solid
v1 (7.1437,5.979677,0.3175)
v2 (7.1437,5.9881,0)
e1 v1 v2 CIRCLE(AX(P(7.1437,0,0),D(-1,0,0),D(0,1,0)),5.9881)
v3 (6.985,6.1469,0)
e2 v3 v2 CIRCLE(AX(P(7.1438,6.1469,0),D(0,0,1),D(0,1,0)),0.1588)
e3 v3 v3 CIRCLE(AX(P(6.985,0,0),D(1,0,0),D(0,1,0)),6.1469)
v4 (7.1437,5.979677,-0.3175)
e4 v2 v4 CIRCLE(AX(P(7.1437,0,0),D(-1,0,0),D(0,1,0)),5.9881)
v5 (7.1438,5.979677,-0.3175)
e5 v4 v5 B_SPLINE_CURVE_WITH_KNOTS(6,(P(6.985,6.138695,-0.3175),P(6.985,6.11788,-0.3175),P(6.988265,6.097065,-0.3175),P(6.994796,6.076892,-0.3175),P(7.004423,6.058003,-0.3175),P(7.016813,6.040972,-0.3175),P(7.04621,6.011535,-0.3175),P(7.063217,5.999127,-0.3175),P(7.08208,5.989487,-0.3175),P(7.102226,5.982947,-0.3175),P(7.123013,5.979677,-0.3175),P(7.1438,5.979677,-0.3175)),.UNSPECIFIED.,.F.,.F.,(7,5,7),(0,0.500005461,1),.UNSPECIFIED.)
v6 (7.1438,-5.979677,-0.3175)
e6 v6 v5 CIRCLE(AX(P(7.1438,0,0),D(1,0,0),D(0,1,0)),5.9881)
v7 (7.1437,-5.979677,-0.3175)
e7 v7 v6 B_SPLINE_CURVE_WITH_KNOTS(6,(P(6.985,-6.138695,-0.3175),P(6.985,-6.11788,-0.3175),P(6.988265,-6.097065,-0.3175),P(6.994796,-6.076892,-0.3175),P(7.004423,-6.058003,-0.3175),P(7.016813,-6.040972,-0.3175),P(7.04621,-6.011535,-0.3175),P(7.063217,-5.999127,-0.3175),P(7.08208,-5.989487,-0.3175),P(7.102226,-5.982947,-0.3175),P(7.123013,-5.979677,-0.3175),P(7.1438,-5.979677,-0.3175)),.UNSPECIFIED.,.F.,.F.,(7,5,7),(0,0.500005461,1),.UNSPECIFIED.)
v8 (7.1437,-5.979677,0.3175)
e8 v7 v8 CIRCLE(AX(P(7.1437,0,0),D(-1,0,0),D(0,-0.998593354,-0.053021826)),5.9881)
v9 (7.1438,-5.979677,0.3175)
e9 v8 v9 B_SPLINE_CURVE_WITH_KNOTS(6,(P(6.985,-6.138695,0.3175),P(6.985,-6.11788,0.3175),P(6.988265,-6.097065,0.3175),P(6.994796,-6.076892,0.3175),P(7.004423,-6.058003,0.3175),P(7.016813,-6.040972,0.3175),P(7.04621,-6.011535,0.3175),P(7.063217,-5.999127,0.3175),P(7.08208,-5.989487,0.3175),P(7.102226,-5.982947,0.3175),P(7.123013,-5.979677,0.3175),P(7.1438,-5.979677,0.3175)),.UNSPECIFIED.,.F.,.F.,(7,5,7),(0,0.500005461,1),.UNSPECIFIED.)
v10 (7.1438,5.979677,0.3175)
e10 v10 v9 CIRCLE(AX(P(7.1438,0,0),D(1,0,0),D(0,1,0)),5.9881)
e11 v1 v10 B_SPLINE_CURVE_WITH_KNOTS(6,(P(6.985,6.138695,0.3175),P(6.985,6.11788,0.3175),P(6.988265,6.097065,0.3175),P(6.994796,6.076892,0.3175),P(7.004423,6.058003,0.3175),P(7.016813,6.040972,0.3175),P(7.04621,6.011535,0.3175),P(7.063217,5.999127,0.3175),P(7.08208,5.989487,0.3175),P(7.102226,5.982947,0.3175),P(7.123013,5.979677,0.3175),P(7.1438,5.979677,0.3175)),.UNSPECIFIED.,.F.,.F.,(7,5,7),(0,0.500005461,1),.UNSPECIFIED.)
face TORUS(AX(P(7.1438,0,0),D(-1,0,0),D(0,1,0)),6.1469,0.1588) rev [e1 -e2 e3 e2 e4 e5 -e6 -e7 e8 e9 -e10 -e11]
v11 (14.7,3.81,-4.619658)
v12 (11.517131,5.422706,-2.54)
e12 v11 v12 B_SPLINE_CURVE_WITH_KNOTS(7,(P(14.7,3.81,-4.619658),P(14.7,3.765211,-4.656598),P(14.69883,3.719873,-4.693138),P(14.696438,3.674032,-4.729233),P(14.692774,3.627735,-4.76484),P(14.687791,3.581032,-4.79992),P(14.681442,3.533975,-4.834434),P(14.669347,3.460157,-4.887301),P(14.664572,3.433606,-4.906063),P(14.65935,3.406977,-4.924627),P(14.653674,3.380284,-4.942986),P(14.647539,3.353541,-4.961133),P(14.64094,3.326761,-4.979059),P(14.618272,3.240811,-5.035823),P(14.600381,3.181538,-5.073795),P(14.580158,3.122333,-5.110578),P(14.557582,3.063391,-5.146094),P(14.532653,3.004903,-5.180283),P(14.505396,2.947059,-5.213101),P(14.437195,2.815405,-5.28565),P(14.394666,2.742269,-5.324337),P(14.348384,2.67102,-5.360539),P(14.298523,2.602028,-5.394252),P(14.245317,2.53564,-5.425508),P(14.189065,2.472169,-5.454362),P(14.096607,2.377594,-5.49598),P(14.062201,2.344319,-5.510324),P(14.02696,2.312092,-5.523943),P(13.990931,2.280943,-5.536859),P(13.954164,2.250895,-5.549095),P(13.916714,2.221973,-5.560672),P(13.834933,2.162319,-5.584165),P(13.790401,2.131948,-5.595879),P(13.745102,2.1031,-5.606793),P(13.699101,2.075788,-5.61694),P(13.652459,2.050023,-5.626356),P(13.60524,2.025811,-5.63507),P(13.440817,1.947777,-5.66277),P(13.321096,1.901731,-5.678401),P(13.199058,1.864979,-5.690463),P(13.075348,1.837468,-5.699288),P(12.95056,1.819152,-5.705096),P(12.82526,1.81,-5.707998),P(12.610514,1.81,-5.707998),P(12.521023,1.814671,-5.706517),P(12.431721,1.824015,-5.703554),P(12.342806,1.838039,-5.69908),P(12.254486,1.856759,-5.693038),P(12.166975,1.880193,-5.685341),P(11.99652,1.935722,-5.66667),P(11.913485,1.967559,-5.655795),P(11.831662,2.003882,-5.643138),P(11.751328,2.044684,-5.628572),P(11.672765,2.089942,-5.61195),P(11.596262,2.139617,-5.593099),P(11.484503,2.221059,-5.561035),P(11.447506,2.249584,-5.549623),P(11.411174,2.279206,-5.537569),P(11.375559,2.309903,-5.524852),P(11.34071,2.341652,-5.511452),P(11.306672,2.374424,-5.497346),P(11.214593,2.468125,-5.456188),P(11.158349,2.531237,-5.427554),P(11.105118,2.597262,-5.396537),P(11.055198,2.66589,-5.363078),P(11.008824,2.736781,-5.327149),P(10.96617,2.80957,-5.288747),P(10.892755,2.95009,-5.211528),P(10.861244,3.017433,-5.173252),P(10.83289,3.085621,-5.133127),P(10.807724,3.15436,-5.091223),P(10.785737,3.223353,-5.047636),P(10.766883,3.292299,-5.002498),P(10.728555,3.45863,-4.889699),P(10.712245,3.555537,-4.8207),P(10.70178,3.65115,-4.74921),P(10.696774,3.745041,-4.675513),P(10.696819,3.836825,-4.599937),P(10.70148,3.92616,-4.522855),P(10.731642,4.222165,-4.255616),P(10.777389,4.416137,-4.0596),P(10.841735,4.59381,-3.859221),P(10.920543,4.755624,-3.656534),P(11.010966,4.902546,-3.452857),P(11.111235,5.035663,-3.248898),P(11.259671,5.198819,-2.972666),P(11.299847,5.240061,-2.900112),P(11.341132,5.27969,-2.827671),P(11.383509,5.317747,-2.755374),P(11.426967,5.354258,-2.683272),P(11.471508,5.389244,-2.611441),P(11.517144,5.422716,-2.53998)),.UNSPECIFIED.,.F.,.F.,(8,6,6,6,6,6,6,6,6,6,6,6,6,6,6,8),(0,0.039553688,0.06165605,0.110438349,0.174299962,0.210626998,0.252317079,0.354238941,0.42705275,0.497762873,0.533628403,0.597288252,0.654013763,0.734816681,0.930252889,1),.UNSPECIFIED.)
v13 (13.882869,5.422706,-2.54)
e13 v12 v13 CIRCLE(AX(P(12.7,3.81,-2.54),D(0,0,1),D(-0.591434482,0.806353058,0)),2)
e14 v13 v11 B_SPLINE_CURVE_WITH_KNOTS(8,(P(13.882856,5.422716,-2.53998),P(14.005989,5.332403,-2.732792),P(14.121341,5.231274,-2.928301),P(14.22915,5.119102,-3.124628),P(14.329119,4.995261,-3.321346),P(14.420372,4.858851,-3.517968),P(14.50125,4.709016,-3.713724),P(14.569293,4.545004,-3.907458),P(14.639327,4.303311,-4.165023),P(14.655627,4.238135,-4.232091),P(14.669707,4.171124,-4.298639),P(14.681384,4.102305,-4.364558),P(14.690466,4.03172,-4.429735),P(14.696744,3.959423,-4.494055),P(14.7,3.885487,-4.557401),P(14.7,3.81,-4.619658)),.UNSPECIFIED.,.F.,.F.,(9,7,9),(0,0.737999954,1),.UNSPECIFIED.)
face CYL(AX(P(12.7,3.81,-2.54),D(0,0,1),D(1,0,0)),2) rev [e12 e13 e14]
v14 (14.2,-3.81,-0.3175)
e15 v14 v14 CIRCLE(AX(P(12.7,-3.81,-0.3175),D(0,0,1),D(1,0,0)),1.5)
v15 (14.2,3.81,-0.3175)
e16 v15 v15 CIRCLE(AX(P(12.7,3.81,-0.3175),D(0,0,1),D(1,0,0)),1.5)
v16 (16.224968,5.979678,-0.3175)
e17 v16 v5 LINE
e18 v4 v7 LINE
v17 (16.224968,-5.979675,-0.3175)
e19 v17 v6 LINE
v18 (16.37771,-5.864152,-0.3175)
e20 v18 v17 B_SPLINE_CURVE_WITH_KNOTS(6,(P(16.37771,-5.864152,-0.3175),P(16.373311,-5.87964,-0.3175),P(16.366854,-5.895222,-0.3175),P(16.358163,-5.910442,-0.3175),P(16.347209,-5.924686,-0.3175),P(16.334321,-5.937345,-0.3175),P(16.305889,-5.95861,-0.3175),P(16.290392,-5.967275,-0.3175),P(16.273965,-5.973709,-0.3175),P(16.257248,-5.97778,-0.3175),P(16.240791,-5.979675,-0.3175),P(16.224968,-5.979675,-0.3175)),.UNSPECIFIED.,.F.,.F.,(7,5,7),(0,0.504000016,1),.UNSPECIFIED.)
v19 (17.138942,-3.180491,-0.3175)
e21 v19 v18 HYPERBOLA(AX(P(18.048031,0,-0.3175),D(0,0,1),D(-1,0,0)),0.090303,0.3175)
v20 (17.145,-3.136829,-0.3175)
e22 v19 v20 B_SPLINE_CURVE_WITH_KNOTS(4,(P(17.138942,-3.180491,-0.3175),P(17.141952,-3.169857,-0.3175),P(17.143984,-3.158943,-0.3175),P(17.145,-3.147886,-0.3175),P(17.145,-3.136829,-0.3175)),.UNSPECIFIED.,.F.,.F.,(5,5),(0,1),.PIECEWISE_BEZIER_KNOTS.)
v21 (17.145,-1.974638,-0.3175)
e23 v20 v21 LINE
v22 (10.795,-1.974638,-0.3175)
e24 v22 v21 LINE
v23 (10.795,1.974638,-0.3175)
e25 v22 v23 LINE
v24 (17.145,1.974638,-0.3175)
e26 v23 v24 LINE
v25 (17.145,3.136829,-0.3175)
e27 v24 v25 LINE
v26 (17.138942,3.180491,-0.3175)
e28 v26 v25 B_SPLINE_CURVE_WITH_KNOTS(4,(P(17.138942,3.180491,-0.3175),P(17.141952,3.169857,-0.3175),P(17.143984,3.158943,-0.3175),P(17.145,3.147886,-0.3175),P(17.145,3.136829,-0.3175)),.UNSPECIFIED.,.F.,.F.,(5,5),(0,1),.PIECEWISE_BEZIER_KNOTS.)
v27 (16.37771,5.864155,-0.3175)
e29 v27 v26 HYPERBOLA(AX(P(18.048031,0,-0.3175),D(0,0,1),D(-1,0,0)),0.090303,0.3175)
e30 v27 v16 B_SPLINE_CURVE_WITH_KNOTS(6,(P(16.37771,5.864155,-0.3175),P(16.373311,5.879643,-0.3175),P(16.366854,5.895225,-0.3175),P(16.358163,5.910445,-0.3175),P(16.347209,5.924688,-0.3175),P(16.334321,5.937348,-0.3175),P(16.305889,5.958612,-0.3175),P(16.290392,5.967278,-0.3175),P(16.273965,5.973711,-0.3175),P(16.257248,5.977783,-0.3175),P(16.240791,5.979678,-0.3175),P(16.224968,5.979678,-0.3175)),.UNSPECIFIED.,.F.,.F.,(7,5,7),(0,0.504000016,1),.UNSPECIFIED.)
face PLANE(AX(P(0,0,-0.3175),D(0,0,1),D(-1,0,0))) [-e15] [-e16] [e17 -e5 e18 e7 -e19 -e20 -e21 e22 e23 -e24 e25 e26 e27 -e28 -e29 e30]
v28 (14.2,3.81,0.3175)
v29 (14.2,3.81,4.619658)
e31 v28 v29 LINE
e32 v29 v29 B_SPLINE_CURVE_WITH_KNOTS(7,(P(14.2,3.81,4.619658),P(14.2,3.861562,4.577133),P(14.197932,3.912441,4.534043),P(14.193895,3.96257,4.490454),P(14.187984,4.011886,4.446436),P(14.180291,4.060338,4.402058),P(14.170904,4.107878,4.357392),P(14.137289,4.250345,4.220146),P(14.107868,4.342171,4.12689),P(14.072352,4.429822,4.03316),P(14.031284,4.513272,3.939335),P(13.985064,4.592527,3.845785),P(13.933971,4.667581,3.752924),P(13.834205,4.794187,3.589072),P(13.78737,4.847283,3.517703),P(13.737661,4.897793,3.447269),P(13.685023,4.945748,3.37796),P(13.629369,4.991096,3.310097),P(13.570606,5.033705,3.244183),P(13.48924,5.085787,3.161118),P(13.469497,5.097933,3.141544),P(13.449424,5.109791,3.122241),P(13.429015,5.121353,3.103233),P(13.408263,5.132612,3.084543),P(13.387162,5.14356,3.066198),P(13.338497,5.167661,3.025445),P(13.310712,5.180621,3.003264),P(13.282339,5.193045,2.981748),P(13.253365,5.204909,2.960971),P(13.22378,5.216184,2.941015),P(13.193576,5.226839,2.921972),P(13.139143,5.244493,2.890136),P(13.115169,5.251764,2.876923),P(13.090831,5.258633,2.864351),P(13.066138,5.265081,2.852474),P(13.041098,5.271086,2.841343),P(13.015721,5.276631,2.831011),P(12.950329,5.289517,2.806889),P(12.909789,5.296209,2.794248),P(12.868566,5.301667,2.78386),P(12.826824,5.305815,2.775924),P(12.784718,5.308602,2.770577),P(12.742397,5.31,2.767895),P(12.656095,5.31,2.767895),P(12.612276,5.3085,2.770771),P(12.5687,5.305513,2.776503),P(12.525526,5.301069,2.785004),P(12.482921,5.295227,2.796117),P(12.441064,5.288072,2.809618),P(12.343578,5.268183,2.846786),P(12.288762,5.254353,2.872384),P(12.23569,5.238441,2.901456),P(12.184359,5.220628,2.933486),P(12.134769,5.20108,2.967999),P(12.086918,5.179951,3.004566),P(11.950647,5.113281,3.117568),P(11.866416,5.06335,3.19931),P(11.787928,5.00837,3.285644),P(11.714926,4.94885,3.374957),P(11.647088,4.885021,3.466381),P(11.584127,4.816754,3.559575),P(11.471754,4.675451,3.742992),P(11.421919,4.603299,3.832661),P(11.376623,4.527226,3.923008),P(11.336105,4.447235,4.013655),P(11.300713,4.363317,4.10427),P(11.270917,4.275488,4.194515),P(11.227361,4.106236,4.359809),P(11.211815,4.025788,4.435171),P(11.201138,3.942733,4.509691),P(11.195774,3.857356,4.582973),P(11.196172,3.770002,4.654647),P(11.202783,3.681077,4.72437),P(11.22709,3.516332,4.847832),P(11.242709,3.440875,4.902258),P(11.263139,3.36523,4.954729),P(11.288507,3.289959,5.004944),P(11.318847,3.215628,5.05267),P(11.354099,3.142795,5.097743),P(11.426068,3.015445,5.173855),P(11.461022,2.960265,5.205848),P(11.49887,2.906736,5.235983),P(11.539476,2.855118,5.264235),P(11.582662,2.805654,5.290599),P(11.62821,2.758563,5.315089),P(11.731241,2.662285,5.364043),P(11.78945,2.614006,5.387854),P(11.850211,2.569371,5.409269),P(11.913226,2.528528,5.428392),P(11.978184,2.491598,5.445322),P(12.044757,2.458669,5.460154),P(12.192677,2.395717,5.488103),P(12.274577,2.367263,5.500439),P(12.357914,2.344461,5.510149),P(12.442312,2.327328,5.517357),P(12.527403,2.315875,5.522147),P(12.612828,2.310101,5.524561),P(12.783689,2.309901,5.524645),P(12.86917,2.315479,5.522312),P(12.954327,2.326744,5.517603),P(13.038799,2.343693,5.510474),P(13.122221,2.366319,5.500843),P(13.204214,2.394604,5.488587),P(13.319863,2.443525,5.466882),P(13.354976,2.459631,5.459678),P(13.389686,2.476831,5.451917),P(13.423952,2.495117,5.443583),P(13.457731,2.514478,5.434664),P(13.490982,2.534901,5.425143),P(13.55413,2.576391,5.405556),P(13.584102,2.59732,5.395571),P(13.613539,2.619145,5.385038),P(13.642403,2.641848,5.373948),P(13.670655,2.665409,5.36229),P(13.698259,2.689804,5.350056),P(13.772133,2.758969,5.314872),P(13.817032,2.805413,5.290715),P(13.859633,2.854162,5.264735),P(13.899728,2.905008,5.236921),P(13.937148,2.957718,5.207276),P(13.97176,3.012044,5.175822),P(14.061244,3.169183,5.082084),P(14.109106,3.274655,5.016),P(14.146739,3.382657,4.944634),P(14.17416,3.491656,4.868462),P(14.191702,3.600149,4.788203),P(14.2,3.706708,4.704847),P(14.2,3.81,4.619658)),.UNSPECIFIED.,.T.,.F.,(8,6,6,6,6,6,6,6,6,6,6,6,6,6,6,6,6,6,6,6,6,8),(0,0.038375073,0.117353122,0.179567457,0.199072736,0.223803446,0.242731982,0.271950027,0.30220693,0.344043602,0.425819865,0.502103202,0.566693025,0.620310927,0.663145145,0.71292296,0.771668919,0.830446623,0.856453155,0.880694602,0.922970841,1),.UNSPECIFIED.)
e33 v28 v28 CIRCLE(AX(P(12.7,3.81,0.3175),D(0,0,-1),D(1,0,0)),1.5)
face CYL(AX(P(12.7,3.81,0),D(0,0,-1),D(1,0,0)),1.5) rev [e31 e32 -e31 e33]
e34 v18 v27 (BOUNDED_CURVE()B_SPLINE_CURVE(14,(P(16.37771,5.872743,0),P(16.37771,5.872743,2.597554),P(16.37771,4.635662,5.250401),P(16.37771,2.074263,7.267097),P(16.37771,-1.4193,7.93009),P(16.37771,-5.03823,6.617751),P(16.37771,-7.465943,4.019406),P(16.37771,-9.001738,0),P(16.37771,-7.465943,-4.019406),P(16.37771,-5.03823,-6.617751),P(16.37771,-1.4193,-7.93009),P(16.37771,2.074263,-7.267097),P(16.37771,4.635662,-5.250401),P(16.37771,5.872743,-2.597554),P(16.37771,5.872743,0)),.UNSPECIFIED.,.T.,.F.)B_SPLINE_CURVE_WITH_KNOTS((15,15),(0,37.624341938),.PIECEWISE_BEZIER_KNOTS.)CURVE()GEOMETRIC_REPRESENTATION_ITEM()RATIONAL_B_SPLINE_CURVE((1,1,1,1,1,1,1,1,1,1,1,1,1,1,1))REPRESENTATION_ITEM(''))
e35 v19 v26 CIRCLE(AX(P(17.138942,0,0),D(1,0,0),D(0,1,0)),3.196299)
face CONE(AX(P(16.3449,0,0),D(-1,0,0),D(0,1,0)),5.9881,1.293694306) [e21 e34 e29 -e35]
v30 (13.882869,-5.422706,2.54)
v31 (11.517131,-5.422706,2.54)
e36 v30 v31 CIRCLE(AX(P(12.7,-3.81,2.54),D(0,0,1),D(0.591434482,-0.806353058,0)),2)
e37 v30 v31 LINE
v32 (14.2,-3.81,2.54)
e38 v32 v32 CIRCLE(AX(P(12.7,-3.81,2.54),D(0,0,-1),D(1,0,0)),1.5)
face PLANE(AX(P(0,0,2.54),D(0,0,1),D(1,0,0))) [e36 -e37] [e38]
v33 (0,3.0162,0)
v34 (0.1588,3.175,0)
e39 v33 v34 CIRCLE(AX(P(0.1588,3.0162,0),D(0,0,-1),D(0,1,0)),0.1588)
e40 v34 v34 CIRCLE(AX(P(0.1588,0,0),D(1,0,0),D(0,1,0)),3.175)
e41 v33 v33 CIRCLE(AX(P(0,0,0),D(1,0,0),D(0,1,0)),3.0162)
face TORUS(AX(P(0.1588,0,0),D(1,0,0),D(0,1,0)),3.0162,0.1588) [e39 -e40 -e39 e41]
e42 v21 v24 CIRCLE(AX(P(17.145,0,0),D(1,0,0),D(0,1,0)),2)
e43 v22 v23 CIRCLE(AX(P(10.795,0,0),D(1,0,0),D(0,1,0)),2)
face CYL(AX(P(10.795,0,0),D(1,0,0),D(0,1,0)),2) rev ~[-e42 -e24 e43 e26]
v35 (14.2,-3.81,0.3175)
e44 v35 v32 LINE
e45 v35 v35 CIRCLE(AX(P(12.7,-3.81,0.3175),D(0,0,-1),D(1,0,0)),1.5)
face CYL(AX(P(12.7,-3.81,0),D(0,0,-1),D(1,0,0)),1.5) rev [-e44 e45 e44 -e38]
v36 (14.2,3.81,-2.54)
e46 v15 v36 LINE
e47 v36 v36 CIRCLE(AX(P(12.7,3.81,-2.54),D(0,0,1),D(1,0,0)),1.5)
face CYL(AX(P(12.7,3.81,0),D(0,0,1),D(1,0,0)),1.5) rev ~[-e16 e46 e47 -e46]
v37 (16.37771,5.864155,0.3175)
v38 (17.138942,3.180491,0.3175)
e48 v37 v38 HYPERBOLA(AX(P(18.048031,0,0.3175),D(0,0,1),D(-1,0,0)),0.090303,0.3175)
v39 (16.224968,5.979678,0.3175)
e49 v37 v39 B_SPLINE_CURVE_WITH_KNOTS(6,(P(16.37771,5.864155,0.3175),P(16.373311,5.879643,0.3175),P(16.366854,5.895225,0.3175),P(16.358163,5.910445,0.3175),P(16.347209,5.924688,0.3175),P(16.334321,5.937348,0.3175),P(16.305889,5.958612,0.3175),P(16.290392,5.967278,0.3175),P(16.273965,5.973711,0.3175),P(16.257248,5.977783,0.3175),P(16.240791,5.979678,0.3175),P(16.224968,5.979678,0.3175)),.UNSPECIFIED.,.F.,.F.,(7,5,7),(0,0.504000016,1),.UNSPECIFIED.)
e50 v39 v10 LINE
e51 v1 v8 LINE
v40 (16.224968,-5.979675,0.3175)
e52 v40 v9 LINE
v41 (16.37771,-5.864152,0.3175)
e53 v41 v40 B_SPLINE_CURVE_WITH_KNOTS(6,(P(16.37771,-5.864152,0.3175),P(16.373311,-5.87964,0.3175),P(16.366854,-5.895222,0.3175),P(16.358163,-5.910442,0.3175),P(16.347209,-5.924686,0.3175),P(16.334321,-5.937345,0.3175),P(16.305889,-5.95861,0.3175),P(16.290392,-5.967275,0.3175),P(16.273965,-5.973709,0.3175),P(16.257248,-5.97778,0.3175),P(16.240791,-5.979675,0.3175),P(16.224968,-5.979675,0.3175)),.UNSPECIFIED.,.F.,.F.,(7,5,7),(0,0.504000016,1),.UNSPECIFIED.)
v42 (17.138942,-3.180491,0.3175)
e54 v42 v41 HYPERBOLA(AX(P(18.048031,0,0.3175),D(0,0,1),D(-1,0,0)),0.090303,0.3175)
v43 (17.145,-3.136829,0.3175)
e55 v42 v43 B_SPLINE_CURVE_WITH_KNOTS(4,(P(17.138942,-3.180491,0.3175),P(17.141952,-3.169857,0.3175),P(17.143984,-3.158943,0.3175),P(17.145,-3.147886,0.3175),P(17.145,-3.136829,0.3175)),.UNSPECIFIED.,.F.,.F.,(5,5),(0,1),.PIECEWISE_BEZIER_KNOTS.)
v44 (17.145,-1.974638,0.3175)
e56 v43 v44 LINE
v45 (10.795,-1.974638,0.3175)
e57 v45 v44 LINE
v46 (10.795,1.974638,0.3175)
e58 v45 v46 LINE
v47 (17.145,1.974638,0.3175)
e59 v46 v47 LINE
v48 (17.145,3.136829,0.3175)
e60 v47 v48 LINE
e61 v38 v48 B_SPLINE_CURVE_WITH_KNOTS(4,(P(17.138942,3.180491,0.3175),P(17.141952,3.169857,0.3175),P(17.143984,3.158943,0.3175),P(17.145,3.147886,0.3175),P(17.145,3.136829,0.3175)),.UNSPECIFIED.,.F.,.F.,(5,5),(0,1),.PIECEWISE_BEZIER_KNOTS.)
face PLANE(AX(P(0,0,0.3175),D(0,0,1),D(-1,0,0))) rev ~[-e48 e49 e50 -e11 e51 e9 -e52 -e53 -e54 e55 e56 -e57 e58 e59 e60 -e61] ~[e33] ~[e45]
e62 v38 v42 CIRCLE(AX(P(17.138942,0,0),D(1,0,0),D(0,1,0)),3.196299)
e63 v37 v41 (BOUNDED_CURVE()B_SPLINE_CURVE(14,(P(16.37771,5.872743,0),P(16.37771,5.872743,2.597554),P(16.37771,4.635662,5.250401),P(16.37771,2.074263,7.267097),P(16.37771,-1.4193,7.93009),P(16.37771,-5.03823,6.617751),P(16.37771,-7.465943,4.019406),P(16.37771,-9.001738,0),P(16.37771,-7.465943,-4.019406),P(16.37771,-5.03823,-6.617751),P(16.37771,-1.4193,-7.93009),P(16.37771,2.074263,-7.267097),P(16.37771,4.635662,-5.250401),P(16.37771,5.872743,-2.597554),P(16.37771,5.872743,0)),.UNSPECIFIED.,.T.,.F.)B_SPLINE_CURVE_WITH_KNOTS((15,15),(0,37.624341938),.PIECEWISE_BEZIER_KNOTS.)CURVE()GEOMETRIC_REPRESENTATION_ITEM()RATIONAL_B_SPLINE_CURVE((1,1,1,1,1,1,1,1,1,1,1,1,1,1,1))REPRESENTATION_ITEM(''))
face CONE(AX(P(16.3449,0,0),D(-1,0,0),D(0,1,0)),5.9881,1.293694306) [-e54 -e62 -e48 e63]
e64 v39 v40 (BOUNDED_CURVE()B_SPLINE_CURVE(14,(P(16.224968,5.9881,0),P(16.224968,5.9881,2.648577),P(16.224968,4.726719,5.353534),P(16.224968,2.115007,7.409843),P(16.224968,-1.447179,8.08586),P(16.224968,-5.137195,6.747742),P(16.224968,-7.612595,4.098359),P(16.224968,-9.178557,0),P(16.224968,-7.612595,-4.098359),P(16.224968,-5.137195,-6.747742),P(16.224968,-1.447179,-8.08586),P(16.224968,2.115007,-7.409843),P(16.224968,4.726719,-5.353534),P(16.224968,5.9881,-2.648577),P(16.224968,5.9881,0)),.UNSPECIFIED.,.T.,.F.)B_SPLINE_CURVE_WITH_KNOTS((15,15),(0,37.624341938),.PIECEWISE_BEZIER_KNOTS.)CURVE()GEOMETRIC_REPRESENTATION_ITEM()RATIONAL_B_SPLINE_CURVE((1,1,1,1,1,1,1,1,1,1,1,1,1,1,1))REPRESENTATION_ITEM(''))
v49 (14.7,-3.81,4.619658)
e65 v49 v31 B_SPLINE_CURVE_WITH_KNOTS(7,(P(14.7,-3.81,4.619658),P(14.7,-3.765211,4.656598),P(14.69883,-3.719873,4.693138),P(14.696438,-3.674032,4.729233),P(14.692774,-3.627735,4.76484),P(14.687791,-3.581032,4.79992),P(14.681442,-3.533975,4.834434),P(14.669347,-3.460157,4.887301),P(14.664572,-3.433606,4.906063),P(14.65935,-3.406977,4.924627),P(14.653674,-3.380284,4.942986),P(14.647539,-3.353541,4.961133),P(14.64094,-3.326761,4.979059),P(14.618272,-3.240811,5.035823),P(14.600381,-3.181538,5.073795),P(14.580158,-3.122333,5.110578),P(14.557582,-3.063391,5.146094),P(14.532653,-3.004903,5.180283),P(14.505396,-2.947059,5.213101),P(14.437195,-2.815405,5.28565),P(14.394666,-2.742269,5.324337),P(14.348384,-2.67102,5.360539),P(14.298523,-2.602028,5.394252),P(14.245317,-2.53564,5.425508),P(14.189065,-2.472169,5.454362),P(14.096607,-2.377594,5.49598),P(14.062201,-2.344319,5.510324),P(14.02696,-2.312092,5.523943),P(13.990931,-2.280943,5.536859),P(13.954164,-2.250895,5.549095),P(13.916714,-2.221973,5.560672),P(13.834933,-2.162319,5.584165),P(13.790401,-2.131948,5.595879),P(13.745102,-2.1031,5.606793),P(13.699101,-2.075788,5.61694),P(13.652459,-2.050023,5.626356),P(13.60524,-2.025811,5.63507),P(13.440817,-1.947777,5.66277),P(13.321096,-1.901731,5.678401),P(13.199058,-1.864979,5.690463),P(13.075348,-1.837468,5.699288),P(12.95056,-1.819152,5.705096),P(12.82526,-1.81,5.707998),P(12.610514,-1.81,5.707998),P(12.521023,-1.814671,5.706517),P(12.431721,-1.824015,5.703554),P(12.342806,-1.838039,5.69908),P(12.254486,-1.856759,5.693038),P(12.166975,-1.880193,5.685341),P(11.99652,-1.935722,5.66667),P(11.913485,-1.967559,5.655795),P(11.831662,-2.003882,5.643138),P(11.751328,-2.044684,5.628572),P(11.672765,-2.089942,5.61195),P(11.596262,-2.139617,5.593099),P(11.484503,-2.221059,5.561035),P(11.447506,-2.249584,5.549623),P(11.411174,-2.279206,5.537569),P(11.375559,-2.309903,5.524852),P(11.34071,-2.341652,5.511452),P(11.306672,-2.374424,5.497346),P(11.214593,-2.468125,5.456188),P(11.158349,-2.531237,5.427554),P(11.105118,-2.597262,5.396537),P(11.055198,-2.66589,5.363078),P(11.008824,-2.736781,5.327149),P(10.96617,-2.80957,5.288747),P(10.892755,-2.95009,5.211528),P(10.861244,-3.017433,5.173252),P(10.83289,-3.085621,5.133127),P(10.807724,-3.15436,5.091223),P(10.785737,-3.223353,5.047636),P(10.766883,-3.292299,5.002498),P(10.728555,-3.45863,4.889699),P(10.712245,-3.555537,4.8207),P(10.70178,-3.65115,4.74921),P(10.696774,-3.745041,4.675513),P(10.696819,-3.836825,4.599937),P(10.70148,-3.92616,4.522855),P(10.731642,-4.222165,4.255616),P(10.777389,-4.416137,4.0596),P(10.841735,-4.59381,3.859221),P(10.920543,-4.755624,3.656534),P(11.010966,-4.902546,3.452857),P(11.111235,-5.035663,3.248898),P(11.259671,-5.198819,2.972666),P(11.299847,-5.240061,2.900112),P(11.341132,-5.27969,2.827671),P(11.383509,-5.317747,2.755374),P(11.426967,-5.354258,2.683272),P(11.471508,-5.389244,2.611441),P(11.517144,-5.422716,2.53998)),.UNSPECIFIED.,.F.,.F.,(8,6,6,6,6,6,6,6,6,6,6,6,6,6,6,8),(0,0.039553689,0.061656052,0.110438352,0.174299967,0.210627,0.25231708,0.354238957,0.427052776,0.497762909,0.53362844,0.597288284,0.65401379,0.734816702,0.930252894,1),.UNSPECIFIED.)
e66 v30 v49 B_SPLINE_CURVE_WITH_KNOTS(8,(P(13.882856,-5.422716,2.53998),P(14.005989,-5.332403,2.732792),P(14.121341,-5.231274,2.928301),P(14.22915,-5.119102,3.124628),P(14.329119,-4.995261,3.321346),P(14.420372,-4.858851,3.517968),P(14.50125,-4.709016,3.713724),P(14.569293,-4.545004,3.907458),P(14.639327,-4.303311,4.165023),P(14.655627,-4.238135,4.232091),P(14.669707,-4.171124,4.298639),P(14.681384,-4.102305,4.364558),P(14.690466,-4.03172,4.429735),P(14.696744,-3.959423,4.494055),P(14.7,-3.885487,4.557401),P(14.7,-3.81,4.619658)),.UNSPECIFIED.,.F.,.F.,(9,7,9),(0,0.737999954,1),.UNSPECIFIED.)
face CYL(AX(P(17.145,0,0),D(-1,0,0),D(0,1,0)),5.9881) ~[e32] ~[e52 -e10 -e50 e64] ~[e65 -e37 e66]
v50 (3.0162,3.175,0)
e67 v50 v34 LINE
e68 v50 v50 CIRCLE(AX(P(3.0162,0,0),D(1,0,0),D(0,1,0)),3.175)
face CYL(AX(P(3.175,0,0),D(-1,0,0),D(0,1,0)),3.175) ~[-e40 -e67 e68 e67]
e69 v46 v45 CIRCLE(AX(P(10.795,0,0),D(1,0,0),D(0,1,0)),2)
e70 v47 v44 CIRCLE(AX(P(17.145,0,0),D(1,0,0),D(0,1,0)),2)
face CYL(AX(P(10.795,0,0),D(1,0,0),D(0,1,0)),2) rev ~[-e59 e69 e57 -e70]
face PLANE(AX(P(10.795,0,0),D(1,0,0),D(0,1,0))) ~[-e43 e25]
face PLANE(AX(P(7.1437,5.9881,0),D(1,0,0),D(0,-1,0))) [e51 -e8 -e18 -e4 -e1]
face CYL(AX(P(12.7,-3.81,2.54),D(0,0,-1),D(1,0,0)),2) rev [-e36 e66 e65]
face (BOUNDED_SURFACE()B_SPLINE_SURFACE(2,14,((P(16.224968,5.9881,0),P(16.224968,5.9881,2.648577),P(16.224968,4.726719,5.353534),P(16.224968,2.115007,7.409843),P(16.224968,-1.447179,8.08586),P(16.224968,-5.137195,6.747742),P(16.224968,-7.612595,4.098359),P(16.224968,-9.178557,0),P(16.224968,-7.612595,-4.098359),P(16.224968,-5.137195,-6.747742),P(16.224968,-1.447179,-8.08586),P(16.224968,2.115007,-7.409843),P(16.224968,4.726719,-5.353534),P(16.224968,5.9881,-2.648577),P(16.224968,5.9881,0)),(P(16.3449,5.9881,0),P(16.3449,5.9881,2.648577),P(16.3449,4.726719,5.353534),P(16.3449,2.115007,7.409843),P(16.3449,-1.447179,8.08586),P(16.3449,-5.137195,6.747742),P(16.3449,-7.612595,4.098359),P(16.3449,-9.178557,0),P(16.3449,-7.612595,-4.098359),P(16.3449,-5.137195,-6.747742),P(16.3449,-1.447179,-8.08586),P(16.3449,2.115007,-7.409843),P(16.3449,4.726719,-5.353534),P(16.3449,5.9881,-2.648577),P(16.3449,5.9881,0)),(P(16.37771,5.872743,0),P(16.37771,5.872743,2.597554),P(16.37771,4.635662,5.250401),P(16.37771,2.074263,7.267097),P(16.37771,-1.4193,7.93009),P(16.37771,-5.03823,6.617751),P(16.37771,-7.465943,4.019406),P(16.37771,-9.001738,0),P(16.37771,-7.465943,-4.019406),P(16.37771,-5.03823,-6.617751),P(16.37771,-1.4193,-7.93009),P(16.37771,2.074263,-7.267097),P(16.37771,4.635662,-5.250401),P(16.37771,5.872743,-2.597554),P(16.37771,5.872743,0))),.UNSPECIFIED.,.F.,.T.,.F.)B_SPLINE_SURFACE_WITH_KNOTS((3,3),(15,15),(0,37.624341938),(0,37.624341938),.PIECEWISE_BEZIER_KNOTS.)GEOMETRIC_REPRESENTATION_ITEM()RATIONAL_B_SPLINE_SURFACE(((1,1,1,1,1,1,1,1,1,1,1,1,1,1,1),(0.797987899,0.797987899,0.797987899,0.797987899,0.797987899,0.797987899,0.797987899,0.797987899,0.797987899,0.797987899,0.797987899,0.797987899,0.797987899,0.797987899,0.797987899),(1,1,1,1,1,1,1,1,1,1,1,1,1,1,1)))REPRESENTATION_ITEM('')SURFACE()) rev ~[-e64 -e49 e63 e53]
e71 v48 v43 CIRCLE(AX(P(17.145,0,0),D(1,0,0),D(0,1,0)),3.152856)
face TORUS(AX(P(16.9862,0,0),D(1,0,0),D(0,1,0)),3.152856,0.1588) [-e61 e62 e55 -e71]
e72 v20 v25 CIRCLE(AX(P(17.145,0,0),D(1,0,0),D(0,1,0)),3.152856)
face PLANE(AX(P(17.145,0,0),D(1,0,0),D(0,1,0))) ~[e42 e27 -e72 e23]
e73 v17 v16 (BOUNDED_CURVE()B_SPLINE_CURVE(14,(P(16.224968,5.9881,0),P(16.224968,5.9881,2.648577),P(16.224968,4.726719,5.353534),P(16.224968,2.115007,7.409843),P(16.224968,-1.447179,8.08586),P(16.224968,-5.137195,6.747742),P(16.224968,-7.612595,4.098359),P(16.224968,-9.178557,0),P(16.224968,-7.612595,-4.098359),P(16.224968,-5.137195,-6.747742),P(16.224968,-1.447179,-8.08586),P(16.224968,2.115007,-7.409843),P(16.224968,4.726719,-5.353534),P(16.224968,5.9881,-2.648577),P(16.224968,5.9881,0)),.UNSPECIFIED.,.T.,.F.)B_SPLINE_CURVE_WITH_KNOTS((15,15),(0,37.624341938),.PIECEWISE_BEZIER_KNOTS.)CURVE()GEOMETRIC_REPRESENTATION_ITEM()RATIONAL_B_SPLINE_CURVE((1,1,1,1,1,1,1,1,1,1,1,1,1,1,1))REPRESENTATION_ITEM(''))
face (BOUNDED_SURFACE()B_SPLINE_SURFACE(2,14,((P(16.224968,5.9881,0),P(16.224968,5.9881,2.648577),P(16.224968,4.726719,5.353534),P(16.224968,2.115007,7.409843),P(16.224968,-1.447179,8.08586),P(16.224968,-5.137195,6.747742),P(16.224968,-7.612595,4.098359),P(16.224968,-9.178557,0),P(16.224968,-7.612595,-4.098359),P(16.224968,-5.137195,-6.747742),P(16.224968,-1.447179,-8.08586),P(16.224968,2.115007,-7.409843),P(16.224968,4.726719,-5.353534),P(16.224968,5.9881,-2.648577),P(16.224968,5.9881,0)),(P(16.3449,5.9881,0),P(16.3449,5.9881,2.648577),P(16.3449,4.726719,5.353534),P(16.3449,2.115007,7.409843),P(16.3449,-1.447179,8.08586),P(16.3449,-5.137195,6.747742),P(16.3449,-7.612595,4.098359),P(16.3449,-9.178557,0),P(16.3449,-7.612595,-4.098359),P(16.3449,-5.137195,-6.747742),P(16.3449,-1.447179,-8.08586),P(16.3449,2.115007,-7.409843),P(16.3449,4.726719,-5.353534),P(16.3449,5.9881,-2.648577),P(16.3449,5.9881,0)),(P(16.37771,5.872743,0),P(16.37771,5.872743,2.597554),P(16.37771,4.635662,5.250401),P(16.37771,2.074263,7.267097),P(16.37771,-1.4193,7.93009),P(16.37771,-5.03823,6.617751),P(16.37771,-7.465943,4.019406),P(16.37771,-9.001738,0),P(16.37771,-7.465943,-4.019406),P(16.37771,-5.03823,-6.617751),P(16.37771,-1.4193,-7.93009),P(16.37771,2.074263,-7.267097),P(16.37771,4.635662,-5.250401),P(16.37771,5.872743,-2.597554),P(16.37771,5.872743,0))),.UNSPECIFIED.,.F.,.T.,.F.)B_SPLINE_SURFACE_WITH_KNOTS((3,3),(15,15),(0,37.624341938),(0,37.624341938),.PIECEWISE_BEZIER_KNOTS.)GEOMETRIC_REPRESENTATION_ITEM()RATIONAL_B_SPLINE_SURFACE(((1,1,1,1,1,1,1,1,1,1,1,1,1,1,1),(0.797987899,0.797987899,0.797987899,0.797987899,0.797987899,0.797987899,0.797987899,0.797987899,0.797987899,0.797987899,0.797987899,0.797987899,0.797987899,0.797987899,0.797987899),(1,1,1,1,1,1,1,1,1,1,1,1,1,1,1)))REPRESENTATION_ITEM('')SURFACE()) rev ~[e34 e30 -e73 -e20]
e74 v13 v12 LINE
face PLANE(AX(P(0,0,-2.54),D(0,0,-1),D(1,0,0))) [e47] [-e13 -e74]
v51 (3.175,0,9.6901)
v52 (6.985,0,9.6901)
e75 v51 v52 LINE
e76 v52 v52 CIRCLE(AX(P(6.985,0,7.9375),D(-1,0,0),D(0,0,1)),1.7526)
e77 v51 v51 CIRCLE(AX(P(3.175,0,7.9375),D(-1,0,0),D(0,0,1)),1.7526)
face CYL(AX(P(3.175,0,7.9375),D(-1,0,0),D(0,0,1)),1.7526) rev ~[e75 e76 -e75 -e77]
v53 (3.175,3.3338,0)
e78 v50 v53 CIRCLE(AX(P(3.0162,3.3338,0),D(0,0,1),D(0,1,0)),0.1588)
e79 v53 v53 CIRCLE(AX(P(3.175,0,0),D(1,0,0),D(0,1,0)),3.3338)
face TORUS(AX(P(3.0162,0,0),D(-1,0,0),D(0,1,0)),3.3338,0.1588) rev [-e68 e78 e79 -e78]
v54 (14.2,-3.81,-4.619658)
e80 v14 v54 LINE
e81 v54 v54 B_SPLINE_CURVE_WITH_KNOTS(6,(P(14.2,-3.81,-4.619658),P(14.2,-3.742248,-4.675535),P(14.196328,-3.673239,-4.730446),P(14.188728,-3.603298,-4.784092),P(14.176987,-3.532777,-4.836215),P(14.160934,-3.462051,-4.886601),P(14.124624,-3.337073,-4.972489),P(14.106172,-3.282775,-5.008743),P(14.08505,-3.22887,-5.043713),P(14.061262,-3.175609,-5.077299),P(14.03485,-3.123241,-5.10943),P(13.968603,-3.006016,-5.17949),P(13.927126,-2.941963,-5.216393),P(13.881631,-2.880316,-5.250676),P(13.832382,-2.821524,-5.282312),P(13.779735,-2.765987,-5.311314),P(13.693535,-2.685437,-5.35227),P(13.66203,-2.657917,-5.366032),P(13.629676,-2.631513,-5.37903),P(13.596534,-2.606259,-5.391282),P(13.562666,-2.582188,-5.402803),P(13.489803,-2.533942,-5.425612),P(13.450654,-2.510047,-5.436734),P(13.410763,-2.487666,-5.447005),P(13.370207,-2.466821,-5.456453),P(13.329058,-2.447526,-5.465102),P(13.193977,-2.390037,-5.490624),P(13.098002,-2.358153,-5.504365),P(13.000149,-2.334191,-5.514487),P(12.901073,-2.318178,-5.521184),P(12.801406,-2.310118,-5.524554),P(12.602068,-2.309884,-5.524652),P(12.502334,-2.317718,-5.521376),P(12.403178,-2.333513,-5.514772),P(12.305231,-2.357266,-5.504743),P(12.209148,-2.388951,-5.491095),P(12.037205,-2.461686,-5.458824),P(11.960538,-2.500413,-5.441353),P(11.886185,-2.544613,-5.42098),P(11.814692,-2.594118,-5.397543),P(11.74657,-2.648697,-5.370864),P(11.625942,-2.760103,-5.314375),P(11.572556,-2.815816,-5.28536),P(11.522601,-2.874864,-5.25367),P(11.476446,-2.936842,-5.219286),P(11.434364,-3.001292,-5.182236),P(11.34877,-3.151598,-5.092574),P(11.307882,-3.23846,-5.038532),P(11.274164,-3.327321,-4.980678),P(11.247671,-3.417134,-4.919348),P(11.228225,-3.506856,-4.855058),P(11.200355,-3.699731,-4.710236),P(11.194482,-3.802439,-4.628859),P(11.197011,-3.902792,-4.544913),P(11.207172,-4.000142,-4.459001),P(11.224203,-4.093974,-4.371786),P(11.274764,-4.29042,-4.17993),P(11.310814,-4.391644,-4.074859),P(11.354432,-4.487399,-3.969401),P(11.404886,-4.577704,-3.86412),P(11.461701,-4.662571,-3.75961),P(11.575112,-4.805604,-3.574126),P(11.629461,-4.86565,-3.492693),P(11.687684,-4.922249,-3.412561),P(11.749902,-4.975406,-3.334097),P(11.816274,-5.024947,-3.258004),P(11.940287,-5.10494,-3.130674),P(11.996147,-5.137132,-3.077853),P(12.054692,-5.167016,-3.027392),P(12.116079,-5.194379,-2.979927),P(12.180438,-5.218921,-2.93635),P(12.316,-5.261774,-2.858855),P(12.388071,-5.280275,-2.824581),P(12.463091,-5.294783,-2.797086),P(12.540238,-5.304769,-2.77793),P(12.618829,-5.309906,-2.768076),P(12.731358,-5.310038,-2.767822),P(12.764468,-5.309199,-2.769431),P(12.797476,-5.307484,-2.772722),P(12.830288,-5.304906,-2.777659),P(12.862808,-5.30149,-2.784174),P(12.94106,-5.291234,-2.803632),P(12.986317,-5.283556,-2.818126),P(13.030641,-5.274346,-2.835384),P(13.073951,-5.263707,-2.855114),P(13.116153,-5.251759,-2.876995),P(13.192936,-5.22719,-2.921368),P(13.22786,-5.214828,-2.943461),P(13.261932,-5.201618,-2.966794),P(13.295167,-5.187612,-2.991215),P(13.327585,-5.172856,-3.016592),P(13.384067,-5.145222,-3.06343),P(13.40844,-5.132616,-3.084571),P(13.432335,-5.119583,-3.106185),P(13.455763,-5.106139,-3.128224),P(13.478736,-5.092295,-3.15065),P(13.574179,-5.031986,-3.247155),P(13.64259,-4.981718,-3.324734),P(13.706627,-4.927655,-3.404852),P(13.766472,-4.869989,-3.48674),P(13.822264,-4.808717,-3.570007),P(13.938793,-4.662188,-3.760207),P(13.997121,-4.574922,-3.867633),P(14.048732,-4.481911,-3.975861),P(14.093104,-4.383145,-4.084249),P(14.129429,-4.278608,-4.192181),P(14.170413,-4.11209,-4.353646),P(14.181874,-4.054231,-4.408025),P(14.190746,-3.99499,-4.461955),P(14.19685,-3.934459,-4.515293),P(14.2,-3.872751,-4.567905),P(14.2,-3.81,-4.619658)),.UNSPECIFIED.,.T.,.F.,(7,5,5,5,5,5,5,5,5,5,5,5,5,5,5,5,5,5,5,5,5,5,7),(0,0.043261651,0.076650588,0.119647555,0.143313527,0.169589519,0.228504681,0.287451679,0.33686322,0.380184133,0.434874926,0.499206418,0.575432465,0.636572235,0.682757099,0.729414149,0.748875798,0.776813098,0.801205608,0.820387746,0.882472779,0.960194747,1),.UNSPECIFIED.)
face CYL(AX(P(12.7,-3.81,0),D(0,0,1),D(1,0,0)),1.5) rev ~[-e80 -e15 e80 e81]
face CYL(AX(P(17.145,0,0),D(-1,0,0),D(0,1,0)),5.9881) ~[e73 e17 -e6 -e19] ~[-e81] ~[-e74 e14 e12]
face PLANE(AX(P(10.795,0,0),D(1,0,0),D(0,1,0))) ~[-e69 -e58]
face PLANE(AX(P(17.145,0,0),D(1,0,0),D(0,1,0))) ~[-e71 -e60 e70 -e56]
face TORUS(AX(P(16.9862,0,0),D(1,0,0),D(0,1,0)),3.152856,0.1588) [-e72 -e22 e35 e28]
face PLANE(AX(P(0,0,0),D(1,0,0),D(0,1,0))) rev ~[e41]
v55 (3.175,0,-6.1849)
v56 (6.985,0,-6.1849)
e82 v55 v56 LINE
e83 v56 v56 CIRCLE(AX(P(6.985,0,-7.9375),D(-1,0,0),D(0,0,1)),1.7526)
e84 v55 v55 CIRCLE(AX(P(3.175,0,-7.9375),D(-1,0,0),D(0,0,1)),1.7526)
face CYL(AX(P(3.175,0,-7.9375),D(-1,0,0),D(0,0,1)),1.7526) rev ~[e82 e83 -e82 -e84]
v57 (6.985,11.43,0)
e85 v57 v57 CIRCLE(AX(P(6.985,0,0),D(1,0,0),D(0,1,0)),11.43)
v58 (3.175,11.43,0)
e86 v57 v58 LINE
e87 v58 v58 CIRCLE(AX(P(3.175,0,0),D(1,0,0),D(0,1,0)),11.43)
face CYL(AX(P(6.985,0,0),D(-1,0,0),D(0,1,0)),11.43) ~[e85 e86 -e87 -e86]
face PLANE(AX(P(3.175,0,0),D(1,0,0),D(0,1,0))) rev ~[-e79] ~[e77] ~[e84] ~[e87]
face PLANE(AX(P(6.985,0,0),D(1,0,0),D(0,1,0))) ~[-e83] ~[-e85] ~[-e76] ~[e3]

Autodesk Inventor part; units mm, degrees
ref_plane "YZ Plane" through (0, 0, 0) normal (1, 0, 0) x (0, 1, 0)
ref_plane "XZ Plane" through (0, 0, 0) normal (0, 1, 0) x (-1, 0, 0)
sketch "Sketch1" plane through (0, 0, 0) normal (0, 0, 1) x (1, 0, 0)
  line L0 (0, 0) -> (17.145, 0)
  line L1 (0, 0) -> (3.175, 0)
  line L2 (3.175, 0) -> (3.175, 3.175)
  line L3 (3.175, 3.175) -> (0, 3.175)
  line L4 (0, 3.175) -> (0, 0)
  line L5 (3.175, 0) -> (6.985, 0)
  line L6 (6.985, 0) -> (6.985, 11.43)
  line L7 (6.985, 11.43) -> (3.175, 11.43)
  line L8 (3.175, 11.43) -> (3.175, 0)
  line L9 (6.985, 0) -> (17.145, 0)
  line L10 (17.145, 0) -> (17.145, 5.9881)
  line L11 (17.145, 5.9881) -> (6.985, 5.9881)
  line L12 (6.985, 5.9881) -> (6.985, 0)
  line L13 (17.145, 0) -> (10.795, 0)
  line L14 (10.795, 0) -> (10.795, 2)
  line L15 (10.795, 2) -> (17.145, 2)
  line L16 (17.145, 2) -> (17.145, 0)
  line L17 (16.3449, 5.9881) -> (17.145, 3.175)
  point P0 (6.985, 5.9881)
  dimension "d0" = 17.145
  dimension "d1" = 3.175
  dimension "d2" = 3.175
  dimension "d3" = 3.81
  dimension "d4" = 11.43
  dimension "d5" = 10.16
  dimension "d6" = 5.9881
  dimension "d7" = 6.35
  dimension "d8" = 2
  dimension "d10" = 3.175
  dimension "d11" = 9.3599
revolve "Revolution1" add sketch "Sketch1" angle 360 about axis through (0, 0, 0) along (1, 0, 0) contours L4 L3 L2 L0 | L2 L8 L7 L6 L0 | L6 L11 L17 L10 L15 L14 L0
fillet "Fillet1" radius 0.1588 5 edges at (6.985, -5.9881, 0) (16.3449, -5.9881, 0) (17.145, -3.175, 0) (3.175, -3.175, 0) (0, -3.175, 0)
sketch "Sketch2" plane through (0, 0, 0) normal (0, 0, 1) x (1, 0, 0)
  line L0 (6.985, -11.43) -> (6.985, 11.43) projected
  line L1 (6.985, 0) -> (12.7, 0) construction
  line L2 (12.7, 0) -> (12.7, 3.81) construction
  circle A0 centre (12.7, 3.81) radius 1.5
  circle A1 centre (12.7, -3.81) radius 1.5
  point P0 (0, 0)
  dimension "d13" = 5.715
  dimension "d14" = 3.81
  dimension "d15" = 3
extrude "Extrusion1" cut sketch "Sketch2" along normal through all both and the other way through all
sketch "Sketch3" plane through (0, 0, 0) normal (0, 0, 1) x (-1, 0, 0)
  line L0 (-7.1437, -5.9881) -> (-7.1437, 5.9881) projected
  line L1 (-7.1437, 5.9881) -> (-19.8438, 5.988)
  line L2 (-19.8438, 5.988) -> (-19.8437, -5.9881)
  line L3 (-19.8437, -5.9881) -> (-7.1437, -5.9881)
  line L4 (-7.1437, -5.9881) -> (-7.1437, 5.9881)
  point P0 (0, 0)
  dimension "d18" = 12.7
extrude "Extrusion2" cut sketch "Sketch3" along normal mid plane 0.635
ref_plane "Work Plane1" through (0, 0, 2.54) normal (0, 0, 1) x (1, 0, 0)
sketch "Sketch4" plane through (0, 0, 2.54) normal (0, 0, 1) x (1, 0, 0)
  circle A0 centre (12.7, -3.81) radius 2
  line L0 (6.985, -11.43) -> (6.985, 11.43) projected
  line L1 (16.225, -5.9796) -> (7.1437, -5.9796) projected
  point P0 (0, 0)
  point P1 (0, 0)
  dimension "d22" = 4
  dimension "d23" = 5.715
  dimension "d25" = 3.81
extrude "Extrusion3" cut sketch "Sketch4" along normal through all
pattern_circular "Circular Pattern1" count 2 over 360 about axis through (13.97, 0, 0) along (1, 0, 0) of "Extrusion3"
sketch "Sketch5" plane through (3.175, 0, 0) normal (-1, 0, 0) x (0, 0, 1)
  circle A0 centre (0, 0) radius 7.9375 construction
  circle A1 centre (7.9375, 0) radius 1.7526
  circle A2 centre (-7.9375, 0) radius 1.7526
  dimension "d31" = 15.875
  dimension "d32" = 3.5052
  dimension "d33" = 3.5052
extrude "Extrusion4" cut sketch "Sketch5" against normal through all
properties part number "Hub" material "Stainless Steel"
